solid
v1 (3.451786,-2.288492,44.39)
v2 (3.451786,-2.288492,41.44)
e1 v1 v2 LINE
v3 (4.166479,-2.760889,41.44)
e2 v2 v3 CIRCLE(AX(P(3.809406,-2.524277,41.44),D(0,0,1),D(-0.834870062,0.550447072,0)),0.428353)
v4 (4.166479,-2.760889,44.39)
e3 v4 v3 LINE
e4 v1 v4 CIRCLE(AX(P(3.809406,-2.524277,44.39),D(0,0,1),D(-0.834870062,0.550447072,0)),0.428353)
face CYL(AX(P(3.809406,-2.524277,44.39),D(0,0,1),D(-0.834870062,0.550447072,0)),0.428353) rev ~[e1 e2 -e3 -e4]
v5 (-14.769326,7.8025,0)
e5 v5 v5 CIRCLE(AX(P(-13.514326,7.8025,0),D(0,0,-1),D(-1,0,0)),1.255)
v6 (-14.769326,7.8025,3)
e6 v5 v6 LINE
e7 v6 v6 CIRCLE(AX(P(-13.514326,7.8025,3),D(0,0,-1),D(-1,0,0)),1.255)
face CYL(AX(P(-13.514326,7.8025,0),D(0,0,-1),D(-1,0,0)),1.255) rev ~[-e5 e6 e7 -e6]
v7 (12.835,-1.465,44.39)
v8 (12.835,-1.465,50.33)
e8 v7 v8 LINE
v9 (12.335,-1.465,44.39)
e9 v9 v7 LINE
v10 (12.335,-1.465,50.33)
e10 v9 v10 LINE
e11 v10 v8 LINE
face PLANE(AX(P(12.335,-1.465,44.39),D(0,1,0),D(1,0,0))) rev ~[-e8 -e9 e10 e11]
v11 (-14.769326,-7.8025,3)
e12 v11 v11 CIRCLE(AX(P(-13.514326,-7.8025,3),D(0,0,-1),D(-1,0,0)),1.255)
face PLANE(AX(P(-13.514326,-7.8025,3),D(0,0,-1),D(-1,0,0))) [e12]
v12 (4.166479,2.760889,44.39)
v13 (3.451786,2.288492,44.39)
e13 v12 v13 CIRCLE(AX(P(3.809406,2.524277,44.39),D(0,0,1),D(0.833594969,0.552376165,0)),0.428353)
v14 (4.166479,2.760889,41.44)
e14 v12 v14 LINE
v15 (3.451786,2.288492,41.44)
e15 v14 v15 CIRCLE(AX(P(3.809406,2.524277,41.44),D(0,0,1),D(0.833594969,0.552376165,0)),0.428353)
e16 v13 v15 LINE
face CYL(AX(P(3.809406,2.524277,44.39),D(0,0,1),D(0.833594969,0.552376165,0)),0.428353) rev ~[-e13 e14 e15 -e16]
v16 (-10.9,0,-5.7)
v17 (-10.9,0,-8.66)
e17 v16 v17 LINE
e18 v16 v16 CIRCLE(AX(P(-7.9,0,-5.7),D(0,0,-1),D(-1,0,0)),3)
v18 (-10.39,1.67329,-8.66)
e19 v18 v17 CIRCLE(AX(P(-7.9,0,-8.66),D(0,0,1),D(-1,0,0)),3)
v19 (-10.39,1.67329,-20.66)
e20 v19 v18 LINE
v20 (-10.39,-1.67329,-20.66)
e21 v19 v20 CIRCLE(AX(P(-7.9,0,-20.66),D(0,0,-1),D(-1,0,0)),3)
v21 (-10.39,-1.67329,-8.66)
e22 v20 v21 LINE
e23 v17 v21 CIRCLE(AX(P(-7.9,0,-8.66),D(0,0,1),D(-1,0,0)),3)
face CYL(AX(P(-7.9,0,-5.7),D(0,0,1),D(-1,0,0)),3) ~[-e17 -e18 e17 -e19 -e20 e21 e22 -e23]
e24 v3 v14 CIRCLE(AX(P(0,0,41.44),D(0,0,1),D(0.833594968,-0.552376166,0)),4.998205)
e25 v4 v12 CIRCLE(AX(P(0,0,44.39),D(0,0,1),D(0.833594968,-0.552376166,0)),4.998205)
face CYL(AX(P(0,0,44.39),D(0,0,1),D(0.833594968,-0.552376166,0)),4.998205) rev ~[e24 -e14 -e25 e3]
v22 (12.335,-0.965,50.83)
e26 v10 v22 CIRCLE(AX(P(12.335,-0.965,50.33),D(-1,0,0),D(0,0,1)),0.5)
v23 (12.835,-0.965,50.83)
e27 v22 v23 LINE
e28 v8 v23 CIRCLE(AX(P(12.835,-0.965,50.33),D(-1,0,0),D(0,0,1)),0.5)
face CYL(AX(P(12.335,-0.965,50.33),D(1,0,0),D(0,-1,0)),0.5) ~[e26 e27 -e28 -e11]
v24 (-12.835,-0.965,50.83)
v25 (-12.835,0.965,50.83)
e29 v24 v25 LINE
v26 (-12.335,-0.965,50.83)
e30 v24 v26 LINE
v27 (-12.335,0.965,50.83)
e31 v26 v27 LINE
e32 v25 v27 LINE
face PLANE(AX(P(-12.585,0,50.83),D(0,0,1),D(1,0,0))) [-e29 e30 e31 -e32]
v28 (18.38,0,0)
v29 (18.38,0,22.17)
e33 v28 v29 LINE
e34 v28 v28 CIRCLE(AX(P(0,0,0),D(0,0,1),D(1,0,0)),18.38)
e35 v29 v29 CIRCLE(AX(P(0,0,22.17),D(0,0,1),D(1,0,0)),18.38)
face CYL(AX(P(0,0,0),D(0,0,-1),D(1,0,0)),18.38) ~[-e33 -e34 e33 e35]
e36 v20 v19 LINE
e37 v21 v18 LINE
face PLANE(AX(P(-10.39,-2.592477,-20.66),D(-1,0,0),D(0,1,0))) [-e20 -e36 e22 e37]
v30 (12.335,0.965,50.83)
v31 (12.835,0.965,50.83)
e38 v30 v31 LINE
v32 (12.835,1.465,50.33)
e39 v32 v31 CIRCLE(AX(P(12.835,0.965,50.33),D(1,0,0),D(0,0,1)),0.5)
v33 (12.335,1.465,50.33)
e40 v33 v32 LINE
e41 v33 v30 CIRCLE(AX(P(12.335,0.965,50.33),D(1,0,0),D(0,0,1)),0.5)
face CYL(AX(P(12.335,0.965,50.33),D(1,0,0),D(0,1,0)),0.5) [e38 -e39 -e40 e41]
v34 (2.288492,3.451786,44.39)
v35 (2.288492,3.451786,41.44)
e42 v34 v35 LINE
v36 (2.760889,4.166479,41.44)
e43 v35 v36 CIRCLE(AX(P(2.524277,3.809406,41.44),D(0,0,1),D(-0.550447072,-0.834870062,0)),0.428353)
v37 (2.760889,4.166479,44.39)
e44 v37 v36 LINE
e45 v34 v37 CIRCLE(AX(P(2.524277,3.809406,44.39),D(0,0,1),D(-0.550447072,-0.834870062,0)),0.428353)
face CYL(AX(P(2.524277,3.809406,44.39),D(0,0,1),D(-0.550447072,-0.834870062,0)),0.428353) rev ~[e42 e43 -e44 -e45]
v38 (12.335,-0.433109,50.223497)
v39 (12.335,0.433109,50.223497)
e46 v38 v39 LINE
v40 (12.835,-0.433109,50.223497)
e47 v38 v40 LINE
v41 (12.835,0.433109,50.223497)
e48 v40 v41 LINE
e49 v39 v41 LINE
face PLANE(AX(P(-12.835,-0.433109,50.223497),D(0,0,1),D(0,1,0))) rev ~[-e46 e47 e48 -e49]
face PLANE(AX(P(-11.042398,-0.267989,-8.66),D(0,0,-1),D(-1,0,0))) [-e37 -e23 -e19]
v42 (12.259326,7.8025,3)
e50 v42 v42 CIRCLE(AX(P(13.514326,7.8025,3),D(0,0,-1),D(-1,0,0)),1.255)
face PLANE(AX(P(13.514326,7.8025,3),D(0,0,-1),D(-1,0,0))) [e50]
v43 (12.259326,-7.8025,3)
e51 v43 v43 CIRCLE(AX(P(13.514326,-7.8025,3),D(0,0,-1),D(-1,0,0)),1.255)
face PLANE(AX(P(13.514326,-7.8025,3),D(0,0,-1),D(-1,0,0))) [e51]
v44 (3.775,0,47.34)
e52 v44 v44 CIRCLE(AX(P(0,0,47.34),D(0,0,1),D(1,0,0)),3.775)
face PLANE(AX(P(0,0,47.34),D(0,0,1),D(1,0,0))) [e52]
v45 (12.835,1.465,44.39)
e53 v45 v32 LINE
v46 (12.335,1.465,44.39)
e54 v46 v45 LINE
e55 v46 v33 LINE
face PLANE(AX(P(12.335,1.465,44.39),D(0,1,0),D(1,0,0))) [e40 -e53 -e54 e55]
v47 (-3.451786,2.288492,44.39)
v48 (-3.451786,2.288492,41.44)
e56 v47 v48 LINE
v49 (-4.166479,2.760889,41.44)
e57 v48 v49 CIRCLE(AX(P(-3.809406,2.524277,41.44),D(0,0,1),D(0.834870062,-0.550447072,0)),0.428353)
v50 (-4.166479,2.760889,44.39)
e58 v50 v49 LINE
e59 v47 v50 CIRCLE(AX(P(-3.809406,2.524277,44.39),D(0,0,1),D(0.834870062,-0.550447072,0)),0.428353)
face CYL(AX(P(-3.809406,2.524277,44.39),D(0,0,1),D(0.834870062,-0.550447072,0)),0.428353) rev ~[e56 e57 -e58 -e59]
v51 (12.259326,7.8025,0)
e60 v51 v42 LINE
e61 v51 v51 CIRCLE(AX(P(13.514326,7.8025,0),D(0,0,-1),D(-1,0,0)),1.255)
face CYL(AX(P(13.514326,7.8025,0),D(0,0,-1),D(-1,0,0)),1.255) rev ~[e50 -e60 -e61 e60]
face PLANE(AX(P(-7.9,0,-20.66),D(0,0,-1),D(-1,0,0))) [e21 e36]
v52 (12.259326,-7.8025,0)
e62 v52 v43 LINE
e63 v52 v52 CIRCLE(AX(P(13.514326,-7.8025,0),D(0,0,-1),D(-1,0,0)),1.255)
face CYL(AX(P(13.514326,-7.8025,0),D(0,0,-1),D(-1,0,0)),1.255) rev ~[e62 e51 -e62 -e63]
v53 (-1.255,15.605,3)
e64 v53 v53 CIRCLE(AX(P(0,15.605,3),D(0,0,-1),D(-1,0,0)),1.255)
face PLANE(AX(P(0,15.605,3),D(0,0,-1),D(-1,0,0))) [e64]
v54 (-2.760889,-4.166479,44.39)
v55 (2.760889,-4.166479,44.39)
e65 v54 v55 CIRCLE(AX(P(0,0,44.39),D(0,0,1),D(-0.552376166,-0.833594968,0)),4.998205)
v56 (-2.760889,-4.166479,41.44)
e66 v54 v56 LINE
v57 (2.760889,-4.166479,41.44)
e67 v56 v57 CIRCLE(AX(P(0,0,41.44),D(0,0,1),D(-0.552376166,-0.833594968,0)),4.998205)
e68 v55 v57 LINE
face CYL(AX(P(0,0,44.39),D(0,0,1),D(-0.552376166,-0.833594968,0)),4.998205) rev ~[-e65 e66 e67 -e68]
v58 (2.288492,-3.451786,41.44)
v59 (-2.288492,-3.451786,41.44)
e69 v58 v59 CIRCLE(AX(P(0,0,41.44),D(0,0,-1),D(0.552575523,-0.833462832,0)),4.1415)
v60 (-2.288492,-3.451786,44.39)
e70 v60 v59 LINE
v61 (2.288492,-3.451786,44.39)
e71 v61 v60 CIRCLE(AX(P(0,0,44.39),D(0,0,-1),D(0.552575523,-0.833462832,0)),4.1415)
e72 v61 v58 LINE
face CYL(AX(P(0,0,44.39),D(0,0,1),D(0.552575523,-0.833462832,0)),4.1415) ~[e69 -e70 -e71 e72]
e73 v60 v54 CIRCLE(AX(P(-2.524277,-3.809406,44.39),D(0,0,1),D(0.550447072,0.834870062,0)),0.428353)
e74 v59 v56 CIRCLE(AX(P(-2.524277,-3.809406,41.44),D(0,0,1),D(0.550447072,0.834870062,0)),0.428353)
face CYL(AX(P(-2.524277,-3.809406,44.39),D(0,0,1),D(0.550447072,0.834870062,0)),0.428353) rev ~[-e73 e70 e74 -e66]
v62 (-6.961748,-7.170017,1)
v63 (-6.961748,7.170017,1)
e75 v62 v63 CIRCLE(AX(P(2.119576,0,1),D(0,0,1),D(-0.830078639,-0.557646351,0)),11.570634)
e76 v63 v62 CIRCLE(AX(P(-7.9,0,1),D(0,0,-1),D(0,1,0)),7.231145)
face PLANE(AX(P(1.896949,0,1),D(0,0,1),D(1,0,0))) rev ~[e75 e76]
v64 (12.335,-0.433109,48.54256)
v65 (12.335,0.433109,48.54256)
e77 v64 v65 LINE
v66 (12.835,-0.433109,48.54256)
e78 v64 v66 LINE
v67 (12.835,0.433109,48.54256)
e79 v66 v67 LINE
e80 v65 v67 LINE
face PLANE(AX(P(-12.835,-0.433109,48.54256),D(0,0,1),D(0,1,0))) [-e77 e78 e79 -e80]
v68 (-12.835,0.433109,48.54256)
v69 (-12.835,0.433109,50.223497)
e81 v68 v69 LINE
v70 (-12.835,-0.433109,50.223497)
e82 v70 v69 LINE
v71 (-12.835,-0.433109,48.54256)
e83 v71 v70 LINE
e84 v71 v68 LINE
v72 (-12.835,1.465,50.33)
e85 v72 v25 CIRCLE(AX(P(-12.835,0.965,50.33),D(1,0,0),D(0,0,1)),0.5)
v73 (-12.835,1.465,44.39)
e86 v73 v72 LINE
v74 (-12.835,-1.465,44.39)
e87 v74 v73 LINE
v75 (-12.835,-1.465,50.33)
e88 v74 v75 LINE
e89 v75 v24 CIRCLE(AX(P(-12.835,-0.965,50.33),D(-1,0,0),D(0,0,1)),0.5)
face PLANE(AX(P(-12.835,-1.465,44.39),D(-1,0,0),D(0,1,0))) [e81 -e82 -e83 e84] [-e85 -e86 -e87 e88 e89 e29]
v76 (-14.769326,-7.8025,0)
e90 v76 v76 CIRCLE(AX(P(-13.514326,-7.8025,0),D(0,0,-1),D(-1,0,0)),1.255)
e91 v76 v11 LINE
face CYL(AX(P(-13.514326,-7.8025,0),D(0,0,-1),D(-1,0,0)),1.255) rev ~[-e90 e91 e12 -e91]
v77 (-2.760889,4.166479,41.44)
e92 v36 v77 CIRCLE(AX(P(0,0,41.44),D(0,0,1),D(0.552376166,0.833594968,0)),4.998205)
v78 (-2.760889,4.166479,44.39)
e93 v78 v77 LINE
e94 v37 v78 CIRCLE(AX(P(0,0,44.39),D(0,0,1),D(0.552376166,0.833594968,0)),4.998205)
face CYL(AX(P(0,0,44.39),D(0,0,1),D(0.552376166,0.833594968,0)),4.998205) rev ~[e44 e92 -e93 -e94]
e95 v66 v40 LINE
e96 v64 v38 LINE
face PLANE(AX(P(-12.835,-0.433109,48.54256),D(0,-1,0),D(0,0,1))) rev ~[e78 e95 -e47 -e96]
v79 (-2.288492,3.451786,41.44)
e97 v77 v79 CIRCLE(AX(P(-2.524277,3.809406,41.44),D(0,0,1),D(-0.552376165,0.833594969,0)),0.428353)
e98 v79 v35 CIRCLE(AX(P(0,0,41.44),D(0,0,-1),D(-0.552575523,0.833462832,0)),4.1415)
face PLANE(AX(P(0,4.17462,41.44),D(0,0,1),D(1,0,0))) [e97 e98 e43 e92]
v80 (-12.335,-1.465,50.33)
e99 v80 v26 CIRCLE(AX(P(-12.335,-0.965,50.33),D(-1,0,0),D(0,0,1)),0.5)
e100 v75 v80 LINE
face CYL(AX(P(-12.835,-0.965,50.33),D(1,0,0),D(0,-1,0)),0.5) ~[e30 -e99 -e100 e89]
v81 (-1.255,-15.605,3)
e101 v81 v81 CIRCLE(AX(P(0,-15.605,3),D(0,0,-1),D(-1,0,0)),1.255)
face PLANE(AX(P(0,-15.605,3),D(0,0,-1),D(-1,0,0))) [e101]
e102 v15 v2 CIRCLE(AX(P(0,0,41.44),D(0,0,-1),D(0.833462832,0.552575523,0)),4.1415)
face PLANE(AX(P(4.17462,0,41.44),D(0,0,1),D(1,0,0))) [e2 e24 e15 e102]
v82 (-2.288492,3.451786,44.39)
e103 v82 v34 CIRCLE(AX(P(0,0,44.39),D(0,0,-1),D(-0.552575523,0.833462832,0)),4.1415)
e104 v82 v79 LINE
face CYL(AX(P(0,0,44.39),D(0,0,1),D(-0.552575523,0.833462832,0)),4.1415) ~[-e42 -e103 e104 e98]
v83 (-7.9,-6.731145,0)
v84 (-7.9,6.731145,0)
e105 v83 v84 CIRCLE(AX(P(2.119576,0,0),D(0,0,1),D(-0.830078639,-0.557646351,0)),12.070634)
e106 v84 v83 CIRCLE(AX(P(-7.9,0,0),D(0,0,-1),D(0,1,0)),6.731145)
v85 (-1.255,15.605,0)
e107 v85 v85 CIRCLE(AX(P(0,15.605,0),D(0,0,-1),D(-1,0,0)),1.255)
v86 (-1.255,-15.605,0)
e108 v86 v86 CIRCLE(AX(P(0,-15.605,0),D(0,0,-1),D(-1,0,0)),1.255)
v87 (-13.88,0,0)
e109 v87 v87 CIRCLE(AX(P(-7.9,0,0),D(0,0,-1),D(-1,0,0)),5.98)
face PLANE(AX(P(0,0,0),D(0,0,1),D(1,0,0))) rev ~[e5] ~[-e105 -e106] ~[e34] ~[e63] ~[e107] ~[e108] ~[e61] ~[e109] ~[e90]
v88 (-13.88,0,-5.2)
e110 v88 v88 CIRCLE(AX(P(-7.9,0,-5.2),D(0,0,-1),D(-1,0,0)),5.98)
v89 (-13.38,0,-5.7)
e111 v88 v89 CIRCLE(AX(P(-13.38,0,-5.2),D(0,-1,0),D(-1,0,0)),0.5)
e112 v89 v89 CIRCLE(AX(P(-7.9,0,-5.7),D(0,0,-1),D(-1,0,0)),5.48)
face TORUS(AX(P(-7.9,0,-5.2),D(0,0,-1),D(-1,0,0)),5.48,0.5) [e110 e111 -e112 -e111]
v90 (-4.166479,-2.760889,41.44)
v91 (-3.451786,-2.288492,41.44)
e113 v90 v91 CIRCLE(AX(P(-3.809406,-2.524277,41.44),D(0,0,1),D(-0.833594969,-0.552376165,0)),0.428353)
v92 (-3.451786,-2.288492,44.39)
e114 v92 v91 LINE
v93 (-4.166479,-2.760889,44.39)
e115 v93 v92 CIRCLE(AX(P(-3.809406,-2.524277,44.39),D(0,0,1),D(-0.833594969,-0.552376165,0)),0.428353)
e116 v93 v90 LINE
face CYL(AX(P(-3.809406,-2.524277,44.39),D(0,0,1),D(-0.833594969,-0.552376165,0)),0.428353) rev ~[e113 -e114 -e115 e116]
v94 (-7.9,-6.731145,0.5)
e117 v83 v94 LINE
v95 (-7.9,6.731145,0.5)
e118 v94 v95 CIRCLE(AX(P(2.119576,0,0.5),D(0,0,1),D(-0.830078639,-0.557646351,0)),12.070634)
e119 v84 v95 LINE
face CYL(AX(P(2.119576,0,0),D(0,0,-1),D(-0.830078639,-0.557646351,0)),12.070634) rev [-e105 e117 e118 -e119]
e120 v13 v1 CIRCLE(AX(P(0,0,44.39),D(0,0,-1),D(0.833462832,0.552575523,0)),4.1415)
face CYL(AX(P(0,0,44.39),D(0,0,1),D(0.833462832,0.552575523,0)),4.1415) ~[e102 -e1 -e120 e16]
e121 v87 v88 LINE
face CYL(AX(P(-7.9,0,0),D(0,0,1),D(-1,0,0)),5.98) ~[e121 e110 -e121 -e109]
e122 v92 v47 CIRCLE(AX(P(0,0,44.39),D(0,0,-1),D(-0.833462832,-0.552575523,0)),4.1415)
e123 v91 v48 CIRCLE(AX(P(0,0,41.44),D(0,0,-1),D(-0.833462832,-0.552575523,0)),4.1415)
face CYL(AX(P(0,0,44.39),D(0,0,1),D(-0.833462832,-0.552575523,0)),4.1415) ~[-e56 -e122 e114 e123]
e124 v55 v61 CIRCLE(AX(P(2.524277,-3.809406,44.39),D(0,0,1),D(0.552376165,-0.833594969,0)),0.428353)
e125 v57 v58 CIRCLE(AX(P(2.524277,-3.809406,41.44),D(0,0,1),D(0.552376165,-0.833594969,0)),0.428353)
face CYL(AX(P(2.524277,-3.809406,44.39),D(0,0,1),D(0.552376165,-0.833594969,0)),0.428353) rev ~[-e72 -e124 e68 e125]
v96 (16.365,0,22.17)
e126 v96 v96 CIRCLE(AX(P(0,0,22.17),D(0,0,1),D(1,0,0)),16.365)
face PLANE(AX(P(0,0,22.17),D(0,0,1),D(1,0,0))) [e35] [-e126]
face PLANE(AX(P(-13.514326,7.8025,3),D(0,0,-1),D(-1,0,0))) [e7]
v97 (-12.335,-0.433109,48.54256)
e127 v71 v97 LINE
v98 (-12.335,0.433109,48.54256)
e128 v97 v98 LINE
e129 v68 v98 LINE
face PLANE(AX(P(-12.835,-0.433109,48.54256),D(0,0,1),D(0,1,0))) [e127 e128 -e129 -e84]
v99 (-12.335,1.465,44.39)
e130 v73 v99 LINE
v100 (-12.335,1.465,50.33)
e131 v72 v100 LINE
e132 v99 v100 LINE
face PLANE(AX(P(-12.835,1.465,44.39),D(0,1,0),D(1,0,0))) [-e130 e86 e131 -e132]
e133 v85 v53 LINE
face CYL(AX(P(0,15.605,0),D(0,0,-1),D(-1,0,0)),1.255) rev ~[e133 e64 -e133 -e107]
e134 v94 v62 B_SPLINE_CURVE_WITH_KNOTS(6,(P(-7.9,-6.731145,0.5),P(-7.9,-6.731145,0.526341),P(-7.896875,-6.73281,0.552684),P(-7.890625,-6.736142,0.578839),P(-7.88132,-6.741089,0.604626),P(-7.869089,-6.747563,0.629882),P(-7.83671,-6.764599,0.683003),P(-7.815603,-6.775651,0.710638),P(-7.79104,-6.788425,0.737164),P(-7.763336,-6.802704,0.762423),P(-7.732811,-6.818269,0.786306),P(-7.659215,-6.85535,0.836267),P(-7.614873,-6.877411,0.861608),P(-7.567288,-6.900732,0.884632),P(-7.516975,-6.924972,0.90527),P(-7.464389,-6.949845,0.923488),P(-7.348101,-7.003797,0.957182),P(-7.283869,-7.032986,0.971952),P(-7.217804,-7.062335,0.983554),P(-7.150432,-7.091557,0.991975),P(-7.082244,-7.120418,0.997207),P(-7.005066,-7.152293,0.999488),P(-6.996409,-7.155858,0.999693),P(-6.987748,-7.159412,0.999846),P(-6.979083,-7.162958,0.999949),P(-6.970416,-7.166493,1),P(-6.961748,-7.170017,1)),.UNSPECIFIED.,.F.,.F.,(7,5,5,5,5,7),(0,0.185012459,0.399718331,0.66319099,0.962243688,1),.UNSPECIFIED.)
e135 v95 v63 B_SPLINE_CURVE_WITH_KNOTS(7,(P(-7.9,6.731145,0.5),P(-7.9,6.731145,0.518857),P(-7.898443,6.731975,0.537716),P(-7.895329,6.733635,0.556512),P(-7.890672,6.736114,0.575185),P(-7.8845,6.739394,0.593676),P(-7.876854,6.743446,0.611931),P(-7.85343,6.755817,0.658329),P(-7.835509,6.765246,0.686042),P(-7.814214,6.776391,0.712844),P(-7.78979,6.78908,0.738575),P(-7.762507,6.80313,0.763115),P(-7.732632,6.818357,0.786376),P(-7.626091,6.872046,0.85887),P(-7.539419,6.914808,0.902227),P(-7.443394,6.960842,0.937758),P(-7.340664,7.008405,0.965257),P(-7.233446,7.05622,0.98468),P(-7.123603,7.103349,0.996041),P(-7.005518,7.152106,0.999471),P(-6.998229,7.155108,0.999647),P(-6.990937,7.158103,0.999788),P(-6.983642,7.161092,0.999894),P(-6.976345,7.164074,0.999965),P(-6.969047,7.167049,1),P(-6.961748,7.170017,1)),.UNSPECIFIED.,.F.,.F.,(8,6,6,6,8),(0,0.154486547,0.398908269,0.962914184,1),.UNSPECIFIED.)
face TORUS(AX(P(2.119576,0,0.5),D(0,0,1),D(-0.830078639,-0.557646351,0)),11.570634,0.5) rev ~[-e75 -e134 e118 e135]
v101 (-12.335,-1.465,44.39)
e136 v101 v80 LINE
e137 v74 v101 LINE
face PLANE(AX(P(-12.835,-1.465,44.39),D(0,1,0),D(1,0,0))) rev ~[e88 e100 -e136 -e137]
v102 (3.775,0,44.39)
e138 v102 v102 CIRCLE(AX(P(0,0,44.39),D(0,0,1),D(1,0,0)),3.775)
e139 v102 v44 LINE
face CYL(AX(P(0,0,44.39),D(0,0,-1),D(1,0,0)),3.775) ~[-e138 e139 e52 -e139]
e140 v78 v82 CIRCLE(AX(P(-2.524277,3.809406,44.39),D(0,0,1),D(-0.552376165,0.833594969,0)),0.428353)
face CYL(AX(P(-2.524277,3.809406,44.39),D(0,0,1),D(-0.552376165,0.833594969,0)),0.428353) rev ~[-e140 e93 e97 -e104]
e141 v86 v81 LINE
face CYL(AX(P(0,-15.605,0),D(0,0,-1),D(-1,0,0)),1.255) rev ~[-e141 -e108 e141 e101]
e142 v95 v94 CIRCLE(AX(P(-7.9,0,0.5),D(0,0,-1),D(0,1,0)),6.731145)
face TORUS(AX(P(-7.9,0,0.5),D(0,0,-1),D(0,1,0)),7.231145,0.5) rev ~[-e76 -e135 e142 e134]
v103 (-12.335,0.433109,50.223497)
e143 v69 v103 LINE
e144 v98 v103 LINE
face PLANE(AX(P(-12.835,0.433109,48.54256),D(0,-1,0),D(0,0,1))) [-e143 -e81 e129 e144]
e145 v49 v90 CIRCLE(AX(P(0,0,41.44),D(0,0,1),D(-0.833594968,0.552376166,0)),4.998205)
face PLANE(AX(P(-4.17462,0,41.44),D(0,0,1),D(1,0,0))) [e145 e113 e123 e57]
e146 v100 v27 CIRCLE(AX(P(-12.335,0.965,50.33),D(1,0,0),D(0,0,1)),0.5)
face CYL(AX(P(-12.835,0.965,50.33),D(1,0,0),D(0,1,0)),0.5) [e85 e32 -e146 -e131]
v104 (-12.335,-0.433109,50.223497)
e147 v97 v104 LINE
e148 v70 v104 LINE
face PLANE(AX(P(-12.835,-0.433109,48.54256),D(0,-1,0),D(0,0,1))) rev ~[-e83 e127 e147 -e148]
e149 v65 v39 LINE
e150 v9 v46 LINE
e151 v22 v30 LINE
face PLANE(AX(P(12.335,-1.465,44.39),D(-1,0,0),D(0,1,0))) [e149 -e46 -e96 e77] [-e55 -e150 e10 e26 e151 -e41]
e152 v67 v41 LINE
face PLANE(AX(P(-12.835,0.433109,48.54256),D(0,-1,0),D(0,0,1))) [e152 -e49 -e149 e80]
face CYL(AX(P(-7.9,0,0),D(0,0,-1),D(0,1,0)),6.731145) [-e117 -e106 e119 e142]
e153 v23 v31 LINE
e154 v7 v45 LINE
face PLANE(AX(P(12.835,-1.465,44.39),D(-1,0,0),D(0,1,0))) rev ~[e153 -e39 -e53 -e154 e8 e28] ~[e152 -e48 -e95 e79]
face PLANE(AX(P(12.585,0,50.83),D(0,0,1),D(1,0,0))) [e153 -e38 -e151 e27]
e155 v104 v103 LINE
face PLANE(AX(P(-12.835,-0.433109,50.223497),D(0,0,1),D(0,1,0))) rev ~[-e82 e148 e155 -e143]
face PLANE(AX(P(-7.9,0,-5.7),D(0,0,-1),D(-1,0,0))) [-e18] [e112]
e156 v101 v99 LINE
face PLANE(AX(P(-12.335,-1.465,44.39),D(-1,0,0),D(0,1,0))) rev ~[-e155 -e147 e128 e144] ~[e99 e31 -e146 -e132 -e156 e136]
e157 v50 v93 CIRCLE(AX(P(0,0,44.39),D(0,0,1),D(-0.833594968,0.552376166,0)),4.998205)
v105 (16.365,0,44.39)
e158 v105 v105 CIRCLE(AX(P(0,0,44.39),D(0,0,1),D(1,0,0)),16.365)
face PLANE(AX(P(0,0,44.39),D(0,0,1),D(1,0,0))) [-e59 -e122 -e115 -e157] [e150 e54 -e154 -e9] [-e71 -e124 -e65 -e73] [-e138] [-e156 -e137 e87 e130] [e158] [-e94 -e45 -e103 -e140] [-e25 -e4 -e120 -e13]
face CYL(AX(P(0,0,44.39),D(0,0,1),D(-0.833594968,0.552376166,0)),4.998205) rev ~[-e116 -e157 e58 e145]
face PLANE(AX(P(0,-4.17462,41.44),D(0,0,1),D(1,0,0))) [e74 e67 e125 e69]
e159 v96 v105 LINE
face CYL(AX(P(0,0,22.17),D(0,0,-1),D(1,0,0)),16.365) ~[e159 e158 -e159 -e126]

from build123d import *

# Parameters (mm, degrees)
SKETCH_1_R          = 18.38
EXTRUDE_1_DEPTH     = 22.17
SKETCH_2_R          = 16.365
EXTRUDE_2_DEPTH     = 22.22
SKETCH_3_R          = 5.98
EXTRUDE_3_DEPTH     = 5.7
SKETCH_4_R          = 3
EXTRUDE_4_DEPTH     = 14.96
SKETCH_5_W          = 1.304796907
SKETCH_5_H          = 4.648976657
CUT_EXTRUDE_1_DEPTH = 12
SKETCH_6_R          = 1.255
CUT_EXTRUDE_2_DEPTH = 3
CUT_EXTRUDE_3_DEPTH = 1
FILLET_1_R          = 0.5
FILLET_3_R          = 0.5
SKETCH_8_W          = 0.5
SKETCH_8_H          = 2.93
EXTRUDE_5_DEPTH     = 6.44
SKETCH_9_R          = 3.775
EXTRUDE_6_DEPTH     = 2.95
CUT_EXTRUDE_4_DEPTH = 2.95
SKETCH_11_W         = 1.680936825
SKETCH_11_H         = 0.866217562
CUT_EXTRUDE_5_DEPTH = 37.95
FILLET_4_R          = 0.5


with BuildPart() as part:
    # Эскиз1 → Бобышка-Вытянуть1 (new body)
    with BuildSketch(Plane.XY):
        Circle(SKETCH_1_R)
    extrude(amount=EXTRUDE_1_DEPTH)

    # Эскиз2 → Бобышка-Вытянуть2 (add)
    with BuildSketch(Plane.XY.offset(22.17)):
        Circle(SKETCH_2_R)
    extrude(amount=EXTRUDE_2_DEPTH)

    # Эскиз3 → Бобышка-Вытянуть3 (add)
    with BuildSketch(Plane(origin=(0, 0, 0), x_dir=(-1, 0, 0), z_dir=(0, 0, -1))):
        with Locations((7.9, 0)):
            Circle(SKETCH_3_R)
    extrude(amount=EXTRUDE_3_DEPTH)

    # Эскиз4 → Бобышка-Вытянуть4 (add)
    with BuildSketch(Plane(origin=(0, 0, -5.7), x_dir=(-1, 0, 0), z_dir=(0, 0, -1))):
        with Locations((7.9, 0)):
            Circle(SKETCH_4_R)
    extrude(amount=EXTRUDE_4_DEPTH)

    # Эскиз5 → Вырез-Вытянуть1 (cut)
    with BuildSketch(Plane(origin=(0, 0, -20.66), x_dir=(-1, 0, 0), z_dir=(0, 0, -1))):
        with Locations((11.042398454, -0.267988811)):
            Rectangle(SKETCH_5_W, SKETCH_5_H)
    extrude(amount=-CUT_EXTRUDE_1_DEPTH, mode=Mode.SUBTRACT)

    # Эскиз6 → Вырез-Вытянуть2 (cut)
    with BuildSketch(Plane(origin=(0, 0, 0), x_dir=(-1, 0, 0), z_dir=(0, 0, -1))):
        with Locations((0, -15.605)):
            Circle(SKETCH_6_R)
        with Locations((-13.514326426, -7.8025)):
            Circle(SKETCH_6_R)
        with Locations((-13.514326426, 7.8025)):
            Circle(SKETCH_6_R)
        with Locations((0, 15.605)):
            Circle(SKETCH_6_R)
        with Locations((13.514326426, 7.8025)):
            Circle(SKETCH_6_R)
        with Locations((13.514326426, -7.8025)):
            Circle(SKETCH_6_R)
    extrude(amount=-CUT_EXTRUDE_2_DEPTH, mode=Mode.SUBTRACT)

    # Эскиз7 → Вырез-Вытянуть3 (cut)
    with BuildSketch(Plane(origin=(0, 0, 0), x_dir=(-1, 0, 0), z_dir=(0, 0, -1))):
        with BuildLine():
            ThreePointArc((7.9, 6.731145279), (1.168854721, 0), (7.9, -6.731145279))
            ThreePointArc((7.9, -6.731145279), (-14.190210328, 0), (7.9, 6.731145279))
        make_face()
    extrude(amount=-CUT_EXTRUDE_3_DEPTH, mode=Mode.SUBTRACT)

    # Скругление1
    fillet_1_edges = [part.edges().sort_by_distance(p)[0] for p in [
        (14.190210328, 0, 1),
        (-1.168854721, 0, 1),
    ]]
    fillet(fillet_1_edges, radius=FILLET_1_R)

    # Скругление3
    fillet_3_edges = [part.edges().sort_by_distance(p)[0] for p in [
        (-1.92, 0, -5.7),
    ]]
    fillet(fillet_3_edges, radius=FILLET_3_R)

    # Эскиз8 → Бобышка-Вытянуть5 (add)
    with BuildSketch(Plane.XY.offset(44.39)):
        with Locations((-12.585, 0)):
            Rectangle(SKETCH_8_W, SKETCH_8_H)
        with Locations((12.585, 0)):
            Rectangle(SKETCH_8_W, SKETCH_8_H)
    extrude(amount=EXTRUDE_5_DEPTH)

    # Эскиз9 → Бобышка-Вытянуть6 (add)
    with BuildSketch(Plane.XY.offset(44.39)):
        Circle(SKETCH_9_R)
    extrude(amount=EXTRUDE_6_DEPTH)

    # Эскиз10 → Вырез-Вытянуть4 (cut)
    with BuildSketch(Plane.XY.offset(44.39)):
        with BuildLine():
            ThreePointArc((-4.166478649, 2.760889391), (-4.998205134, 0), (-4.166478649, -2.760889391))
            ThreePointArc((-4.166478649, -2.760889391), (-3.573206608, -2.881623675), (-3.451786459, -2.288491624))
            ThreePointArc((-3.451786459, -2.288491624), (-4.141500171, 0), (-3.451786459, 2.288491624))
            ThreePointArc((-3.451786459, 2.288491624), (-3.573206608, 2.881623675), (-4.166478649, 2.760889391))
        make_face()
        with BuildLine():
            ThreePointArc((2.760889391, 4.166478649), (0, 4.998205134), (-2.760889391, 4.166478649))
            ThreePointArc((-2.760889391, 4.166478649), (-2.881623675, 3.573206608), (-2.288491624, 3.451786459))
            ThreePointArc((-2.288491624, 3.451786459), (0, 4.141500171), (2.288491624, 3.451786459))
            ThreePointArc((2.288491624, 3.451786459), (2.881623675, 3.573206608), (2.760889391, 4.166478649))
        make_face()
        with BuildLine():
            ThreePointArc((4.166478649, -2.760889391), (4.998205134, 0), (4.166478649, 2.760889391))
            ThreePointArc((4.166478649, 2.760889391), (3.573206608, 2.881623675), (3.451786459, 2.288491624))
            ThreePointArc((3.451786459, 2.288491624), (4.141500171, 0), (3.451786459, -2.288491624))
            ThreePointArc((3.451786459, -2.288491624), (3.573206608, -2.881623675), (4.166478649, -2.760889391))
        make_face()
        with BuildLine():
            ThreePointArc((-2.760889391, -4.166478649), (0, -4.998205134), (2.760889391, -4.166478649))
            ThreePointArc((2.760889391, -4.166478649), (2.881623675, -3.573206608), (2.288491624, -3.451786459))
            ThreePointArc((2.288491624, -3.451786459), (0, -4.141500171), (-2.288491624, -3.451786459))
            ThreePointArc((-2.288491624, -3.451786459), (-2.881623675, -3.573206608), (-2.760889391, -4.166478649))
        make_face()
    extrude(amount=-CUT_EXTRUDE_4_DEPTH, mode=Mode.SUBTRACT)

    # Эскиз11 → Вырез-Вытянуть5 (cut)
    with BuildSketch(Plane.ZY.offset(12.835)):
        with Locations((49.383028143, 0)):
            Rectangle(SKETCH_11_W, SKETCH_11_H)
    extrude(amount=-CUT_EXTRUDE_5_DEPTH, mode=Mode.SUBTRACT)

    # Скругление4
    fillet_4_edges = [part.edges().sort_by_distance(p)[0] for p in [
        (-12.585, 1.465, 50.83),
        (-12.585, -1.465, 50.83),
        (12.585, 1.465, 50.83),
        (12.585, -1.465, 50.83),
    ]]
    fillet(fillet_4_edges, radius=FILLET_4_R)


solid = part.part
